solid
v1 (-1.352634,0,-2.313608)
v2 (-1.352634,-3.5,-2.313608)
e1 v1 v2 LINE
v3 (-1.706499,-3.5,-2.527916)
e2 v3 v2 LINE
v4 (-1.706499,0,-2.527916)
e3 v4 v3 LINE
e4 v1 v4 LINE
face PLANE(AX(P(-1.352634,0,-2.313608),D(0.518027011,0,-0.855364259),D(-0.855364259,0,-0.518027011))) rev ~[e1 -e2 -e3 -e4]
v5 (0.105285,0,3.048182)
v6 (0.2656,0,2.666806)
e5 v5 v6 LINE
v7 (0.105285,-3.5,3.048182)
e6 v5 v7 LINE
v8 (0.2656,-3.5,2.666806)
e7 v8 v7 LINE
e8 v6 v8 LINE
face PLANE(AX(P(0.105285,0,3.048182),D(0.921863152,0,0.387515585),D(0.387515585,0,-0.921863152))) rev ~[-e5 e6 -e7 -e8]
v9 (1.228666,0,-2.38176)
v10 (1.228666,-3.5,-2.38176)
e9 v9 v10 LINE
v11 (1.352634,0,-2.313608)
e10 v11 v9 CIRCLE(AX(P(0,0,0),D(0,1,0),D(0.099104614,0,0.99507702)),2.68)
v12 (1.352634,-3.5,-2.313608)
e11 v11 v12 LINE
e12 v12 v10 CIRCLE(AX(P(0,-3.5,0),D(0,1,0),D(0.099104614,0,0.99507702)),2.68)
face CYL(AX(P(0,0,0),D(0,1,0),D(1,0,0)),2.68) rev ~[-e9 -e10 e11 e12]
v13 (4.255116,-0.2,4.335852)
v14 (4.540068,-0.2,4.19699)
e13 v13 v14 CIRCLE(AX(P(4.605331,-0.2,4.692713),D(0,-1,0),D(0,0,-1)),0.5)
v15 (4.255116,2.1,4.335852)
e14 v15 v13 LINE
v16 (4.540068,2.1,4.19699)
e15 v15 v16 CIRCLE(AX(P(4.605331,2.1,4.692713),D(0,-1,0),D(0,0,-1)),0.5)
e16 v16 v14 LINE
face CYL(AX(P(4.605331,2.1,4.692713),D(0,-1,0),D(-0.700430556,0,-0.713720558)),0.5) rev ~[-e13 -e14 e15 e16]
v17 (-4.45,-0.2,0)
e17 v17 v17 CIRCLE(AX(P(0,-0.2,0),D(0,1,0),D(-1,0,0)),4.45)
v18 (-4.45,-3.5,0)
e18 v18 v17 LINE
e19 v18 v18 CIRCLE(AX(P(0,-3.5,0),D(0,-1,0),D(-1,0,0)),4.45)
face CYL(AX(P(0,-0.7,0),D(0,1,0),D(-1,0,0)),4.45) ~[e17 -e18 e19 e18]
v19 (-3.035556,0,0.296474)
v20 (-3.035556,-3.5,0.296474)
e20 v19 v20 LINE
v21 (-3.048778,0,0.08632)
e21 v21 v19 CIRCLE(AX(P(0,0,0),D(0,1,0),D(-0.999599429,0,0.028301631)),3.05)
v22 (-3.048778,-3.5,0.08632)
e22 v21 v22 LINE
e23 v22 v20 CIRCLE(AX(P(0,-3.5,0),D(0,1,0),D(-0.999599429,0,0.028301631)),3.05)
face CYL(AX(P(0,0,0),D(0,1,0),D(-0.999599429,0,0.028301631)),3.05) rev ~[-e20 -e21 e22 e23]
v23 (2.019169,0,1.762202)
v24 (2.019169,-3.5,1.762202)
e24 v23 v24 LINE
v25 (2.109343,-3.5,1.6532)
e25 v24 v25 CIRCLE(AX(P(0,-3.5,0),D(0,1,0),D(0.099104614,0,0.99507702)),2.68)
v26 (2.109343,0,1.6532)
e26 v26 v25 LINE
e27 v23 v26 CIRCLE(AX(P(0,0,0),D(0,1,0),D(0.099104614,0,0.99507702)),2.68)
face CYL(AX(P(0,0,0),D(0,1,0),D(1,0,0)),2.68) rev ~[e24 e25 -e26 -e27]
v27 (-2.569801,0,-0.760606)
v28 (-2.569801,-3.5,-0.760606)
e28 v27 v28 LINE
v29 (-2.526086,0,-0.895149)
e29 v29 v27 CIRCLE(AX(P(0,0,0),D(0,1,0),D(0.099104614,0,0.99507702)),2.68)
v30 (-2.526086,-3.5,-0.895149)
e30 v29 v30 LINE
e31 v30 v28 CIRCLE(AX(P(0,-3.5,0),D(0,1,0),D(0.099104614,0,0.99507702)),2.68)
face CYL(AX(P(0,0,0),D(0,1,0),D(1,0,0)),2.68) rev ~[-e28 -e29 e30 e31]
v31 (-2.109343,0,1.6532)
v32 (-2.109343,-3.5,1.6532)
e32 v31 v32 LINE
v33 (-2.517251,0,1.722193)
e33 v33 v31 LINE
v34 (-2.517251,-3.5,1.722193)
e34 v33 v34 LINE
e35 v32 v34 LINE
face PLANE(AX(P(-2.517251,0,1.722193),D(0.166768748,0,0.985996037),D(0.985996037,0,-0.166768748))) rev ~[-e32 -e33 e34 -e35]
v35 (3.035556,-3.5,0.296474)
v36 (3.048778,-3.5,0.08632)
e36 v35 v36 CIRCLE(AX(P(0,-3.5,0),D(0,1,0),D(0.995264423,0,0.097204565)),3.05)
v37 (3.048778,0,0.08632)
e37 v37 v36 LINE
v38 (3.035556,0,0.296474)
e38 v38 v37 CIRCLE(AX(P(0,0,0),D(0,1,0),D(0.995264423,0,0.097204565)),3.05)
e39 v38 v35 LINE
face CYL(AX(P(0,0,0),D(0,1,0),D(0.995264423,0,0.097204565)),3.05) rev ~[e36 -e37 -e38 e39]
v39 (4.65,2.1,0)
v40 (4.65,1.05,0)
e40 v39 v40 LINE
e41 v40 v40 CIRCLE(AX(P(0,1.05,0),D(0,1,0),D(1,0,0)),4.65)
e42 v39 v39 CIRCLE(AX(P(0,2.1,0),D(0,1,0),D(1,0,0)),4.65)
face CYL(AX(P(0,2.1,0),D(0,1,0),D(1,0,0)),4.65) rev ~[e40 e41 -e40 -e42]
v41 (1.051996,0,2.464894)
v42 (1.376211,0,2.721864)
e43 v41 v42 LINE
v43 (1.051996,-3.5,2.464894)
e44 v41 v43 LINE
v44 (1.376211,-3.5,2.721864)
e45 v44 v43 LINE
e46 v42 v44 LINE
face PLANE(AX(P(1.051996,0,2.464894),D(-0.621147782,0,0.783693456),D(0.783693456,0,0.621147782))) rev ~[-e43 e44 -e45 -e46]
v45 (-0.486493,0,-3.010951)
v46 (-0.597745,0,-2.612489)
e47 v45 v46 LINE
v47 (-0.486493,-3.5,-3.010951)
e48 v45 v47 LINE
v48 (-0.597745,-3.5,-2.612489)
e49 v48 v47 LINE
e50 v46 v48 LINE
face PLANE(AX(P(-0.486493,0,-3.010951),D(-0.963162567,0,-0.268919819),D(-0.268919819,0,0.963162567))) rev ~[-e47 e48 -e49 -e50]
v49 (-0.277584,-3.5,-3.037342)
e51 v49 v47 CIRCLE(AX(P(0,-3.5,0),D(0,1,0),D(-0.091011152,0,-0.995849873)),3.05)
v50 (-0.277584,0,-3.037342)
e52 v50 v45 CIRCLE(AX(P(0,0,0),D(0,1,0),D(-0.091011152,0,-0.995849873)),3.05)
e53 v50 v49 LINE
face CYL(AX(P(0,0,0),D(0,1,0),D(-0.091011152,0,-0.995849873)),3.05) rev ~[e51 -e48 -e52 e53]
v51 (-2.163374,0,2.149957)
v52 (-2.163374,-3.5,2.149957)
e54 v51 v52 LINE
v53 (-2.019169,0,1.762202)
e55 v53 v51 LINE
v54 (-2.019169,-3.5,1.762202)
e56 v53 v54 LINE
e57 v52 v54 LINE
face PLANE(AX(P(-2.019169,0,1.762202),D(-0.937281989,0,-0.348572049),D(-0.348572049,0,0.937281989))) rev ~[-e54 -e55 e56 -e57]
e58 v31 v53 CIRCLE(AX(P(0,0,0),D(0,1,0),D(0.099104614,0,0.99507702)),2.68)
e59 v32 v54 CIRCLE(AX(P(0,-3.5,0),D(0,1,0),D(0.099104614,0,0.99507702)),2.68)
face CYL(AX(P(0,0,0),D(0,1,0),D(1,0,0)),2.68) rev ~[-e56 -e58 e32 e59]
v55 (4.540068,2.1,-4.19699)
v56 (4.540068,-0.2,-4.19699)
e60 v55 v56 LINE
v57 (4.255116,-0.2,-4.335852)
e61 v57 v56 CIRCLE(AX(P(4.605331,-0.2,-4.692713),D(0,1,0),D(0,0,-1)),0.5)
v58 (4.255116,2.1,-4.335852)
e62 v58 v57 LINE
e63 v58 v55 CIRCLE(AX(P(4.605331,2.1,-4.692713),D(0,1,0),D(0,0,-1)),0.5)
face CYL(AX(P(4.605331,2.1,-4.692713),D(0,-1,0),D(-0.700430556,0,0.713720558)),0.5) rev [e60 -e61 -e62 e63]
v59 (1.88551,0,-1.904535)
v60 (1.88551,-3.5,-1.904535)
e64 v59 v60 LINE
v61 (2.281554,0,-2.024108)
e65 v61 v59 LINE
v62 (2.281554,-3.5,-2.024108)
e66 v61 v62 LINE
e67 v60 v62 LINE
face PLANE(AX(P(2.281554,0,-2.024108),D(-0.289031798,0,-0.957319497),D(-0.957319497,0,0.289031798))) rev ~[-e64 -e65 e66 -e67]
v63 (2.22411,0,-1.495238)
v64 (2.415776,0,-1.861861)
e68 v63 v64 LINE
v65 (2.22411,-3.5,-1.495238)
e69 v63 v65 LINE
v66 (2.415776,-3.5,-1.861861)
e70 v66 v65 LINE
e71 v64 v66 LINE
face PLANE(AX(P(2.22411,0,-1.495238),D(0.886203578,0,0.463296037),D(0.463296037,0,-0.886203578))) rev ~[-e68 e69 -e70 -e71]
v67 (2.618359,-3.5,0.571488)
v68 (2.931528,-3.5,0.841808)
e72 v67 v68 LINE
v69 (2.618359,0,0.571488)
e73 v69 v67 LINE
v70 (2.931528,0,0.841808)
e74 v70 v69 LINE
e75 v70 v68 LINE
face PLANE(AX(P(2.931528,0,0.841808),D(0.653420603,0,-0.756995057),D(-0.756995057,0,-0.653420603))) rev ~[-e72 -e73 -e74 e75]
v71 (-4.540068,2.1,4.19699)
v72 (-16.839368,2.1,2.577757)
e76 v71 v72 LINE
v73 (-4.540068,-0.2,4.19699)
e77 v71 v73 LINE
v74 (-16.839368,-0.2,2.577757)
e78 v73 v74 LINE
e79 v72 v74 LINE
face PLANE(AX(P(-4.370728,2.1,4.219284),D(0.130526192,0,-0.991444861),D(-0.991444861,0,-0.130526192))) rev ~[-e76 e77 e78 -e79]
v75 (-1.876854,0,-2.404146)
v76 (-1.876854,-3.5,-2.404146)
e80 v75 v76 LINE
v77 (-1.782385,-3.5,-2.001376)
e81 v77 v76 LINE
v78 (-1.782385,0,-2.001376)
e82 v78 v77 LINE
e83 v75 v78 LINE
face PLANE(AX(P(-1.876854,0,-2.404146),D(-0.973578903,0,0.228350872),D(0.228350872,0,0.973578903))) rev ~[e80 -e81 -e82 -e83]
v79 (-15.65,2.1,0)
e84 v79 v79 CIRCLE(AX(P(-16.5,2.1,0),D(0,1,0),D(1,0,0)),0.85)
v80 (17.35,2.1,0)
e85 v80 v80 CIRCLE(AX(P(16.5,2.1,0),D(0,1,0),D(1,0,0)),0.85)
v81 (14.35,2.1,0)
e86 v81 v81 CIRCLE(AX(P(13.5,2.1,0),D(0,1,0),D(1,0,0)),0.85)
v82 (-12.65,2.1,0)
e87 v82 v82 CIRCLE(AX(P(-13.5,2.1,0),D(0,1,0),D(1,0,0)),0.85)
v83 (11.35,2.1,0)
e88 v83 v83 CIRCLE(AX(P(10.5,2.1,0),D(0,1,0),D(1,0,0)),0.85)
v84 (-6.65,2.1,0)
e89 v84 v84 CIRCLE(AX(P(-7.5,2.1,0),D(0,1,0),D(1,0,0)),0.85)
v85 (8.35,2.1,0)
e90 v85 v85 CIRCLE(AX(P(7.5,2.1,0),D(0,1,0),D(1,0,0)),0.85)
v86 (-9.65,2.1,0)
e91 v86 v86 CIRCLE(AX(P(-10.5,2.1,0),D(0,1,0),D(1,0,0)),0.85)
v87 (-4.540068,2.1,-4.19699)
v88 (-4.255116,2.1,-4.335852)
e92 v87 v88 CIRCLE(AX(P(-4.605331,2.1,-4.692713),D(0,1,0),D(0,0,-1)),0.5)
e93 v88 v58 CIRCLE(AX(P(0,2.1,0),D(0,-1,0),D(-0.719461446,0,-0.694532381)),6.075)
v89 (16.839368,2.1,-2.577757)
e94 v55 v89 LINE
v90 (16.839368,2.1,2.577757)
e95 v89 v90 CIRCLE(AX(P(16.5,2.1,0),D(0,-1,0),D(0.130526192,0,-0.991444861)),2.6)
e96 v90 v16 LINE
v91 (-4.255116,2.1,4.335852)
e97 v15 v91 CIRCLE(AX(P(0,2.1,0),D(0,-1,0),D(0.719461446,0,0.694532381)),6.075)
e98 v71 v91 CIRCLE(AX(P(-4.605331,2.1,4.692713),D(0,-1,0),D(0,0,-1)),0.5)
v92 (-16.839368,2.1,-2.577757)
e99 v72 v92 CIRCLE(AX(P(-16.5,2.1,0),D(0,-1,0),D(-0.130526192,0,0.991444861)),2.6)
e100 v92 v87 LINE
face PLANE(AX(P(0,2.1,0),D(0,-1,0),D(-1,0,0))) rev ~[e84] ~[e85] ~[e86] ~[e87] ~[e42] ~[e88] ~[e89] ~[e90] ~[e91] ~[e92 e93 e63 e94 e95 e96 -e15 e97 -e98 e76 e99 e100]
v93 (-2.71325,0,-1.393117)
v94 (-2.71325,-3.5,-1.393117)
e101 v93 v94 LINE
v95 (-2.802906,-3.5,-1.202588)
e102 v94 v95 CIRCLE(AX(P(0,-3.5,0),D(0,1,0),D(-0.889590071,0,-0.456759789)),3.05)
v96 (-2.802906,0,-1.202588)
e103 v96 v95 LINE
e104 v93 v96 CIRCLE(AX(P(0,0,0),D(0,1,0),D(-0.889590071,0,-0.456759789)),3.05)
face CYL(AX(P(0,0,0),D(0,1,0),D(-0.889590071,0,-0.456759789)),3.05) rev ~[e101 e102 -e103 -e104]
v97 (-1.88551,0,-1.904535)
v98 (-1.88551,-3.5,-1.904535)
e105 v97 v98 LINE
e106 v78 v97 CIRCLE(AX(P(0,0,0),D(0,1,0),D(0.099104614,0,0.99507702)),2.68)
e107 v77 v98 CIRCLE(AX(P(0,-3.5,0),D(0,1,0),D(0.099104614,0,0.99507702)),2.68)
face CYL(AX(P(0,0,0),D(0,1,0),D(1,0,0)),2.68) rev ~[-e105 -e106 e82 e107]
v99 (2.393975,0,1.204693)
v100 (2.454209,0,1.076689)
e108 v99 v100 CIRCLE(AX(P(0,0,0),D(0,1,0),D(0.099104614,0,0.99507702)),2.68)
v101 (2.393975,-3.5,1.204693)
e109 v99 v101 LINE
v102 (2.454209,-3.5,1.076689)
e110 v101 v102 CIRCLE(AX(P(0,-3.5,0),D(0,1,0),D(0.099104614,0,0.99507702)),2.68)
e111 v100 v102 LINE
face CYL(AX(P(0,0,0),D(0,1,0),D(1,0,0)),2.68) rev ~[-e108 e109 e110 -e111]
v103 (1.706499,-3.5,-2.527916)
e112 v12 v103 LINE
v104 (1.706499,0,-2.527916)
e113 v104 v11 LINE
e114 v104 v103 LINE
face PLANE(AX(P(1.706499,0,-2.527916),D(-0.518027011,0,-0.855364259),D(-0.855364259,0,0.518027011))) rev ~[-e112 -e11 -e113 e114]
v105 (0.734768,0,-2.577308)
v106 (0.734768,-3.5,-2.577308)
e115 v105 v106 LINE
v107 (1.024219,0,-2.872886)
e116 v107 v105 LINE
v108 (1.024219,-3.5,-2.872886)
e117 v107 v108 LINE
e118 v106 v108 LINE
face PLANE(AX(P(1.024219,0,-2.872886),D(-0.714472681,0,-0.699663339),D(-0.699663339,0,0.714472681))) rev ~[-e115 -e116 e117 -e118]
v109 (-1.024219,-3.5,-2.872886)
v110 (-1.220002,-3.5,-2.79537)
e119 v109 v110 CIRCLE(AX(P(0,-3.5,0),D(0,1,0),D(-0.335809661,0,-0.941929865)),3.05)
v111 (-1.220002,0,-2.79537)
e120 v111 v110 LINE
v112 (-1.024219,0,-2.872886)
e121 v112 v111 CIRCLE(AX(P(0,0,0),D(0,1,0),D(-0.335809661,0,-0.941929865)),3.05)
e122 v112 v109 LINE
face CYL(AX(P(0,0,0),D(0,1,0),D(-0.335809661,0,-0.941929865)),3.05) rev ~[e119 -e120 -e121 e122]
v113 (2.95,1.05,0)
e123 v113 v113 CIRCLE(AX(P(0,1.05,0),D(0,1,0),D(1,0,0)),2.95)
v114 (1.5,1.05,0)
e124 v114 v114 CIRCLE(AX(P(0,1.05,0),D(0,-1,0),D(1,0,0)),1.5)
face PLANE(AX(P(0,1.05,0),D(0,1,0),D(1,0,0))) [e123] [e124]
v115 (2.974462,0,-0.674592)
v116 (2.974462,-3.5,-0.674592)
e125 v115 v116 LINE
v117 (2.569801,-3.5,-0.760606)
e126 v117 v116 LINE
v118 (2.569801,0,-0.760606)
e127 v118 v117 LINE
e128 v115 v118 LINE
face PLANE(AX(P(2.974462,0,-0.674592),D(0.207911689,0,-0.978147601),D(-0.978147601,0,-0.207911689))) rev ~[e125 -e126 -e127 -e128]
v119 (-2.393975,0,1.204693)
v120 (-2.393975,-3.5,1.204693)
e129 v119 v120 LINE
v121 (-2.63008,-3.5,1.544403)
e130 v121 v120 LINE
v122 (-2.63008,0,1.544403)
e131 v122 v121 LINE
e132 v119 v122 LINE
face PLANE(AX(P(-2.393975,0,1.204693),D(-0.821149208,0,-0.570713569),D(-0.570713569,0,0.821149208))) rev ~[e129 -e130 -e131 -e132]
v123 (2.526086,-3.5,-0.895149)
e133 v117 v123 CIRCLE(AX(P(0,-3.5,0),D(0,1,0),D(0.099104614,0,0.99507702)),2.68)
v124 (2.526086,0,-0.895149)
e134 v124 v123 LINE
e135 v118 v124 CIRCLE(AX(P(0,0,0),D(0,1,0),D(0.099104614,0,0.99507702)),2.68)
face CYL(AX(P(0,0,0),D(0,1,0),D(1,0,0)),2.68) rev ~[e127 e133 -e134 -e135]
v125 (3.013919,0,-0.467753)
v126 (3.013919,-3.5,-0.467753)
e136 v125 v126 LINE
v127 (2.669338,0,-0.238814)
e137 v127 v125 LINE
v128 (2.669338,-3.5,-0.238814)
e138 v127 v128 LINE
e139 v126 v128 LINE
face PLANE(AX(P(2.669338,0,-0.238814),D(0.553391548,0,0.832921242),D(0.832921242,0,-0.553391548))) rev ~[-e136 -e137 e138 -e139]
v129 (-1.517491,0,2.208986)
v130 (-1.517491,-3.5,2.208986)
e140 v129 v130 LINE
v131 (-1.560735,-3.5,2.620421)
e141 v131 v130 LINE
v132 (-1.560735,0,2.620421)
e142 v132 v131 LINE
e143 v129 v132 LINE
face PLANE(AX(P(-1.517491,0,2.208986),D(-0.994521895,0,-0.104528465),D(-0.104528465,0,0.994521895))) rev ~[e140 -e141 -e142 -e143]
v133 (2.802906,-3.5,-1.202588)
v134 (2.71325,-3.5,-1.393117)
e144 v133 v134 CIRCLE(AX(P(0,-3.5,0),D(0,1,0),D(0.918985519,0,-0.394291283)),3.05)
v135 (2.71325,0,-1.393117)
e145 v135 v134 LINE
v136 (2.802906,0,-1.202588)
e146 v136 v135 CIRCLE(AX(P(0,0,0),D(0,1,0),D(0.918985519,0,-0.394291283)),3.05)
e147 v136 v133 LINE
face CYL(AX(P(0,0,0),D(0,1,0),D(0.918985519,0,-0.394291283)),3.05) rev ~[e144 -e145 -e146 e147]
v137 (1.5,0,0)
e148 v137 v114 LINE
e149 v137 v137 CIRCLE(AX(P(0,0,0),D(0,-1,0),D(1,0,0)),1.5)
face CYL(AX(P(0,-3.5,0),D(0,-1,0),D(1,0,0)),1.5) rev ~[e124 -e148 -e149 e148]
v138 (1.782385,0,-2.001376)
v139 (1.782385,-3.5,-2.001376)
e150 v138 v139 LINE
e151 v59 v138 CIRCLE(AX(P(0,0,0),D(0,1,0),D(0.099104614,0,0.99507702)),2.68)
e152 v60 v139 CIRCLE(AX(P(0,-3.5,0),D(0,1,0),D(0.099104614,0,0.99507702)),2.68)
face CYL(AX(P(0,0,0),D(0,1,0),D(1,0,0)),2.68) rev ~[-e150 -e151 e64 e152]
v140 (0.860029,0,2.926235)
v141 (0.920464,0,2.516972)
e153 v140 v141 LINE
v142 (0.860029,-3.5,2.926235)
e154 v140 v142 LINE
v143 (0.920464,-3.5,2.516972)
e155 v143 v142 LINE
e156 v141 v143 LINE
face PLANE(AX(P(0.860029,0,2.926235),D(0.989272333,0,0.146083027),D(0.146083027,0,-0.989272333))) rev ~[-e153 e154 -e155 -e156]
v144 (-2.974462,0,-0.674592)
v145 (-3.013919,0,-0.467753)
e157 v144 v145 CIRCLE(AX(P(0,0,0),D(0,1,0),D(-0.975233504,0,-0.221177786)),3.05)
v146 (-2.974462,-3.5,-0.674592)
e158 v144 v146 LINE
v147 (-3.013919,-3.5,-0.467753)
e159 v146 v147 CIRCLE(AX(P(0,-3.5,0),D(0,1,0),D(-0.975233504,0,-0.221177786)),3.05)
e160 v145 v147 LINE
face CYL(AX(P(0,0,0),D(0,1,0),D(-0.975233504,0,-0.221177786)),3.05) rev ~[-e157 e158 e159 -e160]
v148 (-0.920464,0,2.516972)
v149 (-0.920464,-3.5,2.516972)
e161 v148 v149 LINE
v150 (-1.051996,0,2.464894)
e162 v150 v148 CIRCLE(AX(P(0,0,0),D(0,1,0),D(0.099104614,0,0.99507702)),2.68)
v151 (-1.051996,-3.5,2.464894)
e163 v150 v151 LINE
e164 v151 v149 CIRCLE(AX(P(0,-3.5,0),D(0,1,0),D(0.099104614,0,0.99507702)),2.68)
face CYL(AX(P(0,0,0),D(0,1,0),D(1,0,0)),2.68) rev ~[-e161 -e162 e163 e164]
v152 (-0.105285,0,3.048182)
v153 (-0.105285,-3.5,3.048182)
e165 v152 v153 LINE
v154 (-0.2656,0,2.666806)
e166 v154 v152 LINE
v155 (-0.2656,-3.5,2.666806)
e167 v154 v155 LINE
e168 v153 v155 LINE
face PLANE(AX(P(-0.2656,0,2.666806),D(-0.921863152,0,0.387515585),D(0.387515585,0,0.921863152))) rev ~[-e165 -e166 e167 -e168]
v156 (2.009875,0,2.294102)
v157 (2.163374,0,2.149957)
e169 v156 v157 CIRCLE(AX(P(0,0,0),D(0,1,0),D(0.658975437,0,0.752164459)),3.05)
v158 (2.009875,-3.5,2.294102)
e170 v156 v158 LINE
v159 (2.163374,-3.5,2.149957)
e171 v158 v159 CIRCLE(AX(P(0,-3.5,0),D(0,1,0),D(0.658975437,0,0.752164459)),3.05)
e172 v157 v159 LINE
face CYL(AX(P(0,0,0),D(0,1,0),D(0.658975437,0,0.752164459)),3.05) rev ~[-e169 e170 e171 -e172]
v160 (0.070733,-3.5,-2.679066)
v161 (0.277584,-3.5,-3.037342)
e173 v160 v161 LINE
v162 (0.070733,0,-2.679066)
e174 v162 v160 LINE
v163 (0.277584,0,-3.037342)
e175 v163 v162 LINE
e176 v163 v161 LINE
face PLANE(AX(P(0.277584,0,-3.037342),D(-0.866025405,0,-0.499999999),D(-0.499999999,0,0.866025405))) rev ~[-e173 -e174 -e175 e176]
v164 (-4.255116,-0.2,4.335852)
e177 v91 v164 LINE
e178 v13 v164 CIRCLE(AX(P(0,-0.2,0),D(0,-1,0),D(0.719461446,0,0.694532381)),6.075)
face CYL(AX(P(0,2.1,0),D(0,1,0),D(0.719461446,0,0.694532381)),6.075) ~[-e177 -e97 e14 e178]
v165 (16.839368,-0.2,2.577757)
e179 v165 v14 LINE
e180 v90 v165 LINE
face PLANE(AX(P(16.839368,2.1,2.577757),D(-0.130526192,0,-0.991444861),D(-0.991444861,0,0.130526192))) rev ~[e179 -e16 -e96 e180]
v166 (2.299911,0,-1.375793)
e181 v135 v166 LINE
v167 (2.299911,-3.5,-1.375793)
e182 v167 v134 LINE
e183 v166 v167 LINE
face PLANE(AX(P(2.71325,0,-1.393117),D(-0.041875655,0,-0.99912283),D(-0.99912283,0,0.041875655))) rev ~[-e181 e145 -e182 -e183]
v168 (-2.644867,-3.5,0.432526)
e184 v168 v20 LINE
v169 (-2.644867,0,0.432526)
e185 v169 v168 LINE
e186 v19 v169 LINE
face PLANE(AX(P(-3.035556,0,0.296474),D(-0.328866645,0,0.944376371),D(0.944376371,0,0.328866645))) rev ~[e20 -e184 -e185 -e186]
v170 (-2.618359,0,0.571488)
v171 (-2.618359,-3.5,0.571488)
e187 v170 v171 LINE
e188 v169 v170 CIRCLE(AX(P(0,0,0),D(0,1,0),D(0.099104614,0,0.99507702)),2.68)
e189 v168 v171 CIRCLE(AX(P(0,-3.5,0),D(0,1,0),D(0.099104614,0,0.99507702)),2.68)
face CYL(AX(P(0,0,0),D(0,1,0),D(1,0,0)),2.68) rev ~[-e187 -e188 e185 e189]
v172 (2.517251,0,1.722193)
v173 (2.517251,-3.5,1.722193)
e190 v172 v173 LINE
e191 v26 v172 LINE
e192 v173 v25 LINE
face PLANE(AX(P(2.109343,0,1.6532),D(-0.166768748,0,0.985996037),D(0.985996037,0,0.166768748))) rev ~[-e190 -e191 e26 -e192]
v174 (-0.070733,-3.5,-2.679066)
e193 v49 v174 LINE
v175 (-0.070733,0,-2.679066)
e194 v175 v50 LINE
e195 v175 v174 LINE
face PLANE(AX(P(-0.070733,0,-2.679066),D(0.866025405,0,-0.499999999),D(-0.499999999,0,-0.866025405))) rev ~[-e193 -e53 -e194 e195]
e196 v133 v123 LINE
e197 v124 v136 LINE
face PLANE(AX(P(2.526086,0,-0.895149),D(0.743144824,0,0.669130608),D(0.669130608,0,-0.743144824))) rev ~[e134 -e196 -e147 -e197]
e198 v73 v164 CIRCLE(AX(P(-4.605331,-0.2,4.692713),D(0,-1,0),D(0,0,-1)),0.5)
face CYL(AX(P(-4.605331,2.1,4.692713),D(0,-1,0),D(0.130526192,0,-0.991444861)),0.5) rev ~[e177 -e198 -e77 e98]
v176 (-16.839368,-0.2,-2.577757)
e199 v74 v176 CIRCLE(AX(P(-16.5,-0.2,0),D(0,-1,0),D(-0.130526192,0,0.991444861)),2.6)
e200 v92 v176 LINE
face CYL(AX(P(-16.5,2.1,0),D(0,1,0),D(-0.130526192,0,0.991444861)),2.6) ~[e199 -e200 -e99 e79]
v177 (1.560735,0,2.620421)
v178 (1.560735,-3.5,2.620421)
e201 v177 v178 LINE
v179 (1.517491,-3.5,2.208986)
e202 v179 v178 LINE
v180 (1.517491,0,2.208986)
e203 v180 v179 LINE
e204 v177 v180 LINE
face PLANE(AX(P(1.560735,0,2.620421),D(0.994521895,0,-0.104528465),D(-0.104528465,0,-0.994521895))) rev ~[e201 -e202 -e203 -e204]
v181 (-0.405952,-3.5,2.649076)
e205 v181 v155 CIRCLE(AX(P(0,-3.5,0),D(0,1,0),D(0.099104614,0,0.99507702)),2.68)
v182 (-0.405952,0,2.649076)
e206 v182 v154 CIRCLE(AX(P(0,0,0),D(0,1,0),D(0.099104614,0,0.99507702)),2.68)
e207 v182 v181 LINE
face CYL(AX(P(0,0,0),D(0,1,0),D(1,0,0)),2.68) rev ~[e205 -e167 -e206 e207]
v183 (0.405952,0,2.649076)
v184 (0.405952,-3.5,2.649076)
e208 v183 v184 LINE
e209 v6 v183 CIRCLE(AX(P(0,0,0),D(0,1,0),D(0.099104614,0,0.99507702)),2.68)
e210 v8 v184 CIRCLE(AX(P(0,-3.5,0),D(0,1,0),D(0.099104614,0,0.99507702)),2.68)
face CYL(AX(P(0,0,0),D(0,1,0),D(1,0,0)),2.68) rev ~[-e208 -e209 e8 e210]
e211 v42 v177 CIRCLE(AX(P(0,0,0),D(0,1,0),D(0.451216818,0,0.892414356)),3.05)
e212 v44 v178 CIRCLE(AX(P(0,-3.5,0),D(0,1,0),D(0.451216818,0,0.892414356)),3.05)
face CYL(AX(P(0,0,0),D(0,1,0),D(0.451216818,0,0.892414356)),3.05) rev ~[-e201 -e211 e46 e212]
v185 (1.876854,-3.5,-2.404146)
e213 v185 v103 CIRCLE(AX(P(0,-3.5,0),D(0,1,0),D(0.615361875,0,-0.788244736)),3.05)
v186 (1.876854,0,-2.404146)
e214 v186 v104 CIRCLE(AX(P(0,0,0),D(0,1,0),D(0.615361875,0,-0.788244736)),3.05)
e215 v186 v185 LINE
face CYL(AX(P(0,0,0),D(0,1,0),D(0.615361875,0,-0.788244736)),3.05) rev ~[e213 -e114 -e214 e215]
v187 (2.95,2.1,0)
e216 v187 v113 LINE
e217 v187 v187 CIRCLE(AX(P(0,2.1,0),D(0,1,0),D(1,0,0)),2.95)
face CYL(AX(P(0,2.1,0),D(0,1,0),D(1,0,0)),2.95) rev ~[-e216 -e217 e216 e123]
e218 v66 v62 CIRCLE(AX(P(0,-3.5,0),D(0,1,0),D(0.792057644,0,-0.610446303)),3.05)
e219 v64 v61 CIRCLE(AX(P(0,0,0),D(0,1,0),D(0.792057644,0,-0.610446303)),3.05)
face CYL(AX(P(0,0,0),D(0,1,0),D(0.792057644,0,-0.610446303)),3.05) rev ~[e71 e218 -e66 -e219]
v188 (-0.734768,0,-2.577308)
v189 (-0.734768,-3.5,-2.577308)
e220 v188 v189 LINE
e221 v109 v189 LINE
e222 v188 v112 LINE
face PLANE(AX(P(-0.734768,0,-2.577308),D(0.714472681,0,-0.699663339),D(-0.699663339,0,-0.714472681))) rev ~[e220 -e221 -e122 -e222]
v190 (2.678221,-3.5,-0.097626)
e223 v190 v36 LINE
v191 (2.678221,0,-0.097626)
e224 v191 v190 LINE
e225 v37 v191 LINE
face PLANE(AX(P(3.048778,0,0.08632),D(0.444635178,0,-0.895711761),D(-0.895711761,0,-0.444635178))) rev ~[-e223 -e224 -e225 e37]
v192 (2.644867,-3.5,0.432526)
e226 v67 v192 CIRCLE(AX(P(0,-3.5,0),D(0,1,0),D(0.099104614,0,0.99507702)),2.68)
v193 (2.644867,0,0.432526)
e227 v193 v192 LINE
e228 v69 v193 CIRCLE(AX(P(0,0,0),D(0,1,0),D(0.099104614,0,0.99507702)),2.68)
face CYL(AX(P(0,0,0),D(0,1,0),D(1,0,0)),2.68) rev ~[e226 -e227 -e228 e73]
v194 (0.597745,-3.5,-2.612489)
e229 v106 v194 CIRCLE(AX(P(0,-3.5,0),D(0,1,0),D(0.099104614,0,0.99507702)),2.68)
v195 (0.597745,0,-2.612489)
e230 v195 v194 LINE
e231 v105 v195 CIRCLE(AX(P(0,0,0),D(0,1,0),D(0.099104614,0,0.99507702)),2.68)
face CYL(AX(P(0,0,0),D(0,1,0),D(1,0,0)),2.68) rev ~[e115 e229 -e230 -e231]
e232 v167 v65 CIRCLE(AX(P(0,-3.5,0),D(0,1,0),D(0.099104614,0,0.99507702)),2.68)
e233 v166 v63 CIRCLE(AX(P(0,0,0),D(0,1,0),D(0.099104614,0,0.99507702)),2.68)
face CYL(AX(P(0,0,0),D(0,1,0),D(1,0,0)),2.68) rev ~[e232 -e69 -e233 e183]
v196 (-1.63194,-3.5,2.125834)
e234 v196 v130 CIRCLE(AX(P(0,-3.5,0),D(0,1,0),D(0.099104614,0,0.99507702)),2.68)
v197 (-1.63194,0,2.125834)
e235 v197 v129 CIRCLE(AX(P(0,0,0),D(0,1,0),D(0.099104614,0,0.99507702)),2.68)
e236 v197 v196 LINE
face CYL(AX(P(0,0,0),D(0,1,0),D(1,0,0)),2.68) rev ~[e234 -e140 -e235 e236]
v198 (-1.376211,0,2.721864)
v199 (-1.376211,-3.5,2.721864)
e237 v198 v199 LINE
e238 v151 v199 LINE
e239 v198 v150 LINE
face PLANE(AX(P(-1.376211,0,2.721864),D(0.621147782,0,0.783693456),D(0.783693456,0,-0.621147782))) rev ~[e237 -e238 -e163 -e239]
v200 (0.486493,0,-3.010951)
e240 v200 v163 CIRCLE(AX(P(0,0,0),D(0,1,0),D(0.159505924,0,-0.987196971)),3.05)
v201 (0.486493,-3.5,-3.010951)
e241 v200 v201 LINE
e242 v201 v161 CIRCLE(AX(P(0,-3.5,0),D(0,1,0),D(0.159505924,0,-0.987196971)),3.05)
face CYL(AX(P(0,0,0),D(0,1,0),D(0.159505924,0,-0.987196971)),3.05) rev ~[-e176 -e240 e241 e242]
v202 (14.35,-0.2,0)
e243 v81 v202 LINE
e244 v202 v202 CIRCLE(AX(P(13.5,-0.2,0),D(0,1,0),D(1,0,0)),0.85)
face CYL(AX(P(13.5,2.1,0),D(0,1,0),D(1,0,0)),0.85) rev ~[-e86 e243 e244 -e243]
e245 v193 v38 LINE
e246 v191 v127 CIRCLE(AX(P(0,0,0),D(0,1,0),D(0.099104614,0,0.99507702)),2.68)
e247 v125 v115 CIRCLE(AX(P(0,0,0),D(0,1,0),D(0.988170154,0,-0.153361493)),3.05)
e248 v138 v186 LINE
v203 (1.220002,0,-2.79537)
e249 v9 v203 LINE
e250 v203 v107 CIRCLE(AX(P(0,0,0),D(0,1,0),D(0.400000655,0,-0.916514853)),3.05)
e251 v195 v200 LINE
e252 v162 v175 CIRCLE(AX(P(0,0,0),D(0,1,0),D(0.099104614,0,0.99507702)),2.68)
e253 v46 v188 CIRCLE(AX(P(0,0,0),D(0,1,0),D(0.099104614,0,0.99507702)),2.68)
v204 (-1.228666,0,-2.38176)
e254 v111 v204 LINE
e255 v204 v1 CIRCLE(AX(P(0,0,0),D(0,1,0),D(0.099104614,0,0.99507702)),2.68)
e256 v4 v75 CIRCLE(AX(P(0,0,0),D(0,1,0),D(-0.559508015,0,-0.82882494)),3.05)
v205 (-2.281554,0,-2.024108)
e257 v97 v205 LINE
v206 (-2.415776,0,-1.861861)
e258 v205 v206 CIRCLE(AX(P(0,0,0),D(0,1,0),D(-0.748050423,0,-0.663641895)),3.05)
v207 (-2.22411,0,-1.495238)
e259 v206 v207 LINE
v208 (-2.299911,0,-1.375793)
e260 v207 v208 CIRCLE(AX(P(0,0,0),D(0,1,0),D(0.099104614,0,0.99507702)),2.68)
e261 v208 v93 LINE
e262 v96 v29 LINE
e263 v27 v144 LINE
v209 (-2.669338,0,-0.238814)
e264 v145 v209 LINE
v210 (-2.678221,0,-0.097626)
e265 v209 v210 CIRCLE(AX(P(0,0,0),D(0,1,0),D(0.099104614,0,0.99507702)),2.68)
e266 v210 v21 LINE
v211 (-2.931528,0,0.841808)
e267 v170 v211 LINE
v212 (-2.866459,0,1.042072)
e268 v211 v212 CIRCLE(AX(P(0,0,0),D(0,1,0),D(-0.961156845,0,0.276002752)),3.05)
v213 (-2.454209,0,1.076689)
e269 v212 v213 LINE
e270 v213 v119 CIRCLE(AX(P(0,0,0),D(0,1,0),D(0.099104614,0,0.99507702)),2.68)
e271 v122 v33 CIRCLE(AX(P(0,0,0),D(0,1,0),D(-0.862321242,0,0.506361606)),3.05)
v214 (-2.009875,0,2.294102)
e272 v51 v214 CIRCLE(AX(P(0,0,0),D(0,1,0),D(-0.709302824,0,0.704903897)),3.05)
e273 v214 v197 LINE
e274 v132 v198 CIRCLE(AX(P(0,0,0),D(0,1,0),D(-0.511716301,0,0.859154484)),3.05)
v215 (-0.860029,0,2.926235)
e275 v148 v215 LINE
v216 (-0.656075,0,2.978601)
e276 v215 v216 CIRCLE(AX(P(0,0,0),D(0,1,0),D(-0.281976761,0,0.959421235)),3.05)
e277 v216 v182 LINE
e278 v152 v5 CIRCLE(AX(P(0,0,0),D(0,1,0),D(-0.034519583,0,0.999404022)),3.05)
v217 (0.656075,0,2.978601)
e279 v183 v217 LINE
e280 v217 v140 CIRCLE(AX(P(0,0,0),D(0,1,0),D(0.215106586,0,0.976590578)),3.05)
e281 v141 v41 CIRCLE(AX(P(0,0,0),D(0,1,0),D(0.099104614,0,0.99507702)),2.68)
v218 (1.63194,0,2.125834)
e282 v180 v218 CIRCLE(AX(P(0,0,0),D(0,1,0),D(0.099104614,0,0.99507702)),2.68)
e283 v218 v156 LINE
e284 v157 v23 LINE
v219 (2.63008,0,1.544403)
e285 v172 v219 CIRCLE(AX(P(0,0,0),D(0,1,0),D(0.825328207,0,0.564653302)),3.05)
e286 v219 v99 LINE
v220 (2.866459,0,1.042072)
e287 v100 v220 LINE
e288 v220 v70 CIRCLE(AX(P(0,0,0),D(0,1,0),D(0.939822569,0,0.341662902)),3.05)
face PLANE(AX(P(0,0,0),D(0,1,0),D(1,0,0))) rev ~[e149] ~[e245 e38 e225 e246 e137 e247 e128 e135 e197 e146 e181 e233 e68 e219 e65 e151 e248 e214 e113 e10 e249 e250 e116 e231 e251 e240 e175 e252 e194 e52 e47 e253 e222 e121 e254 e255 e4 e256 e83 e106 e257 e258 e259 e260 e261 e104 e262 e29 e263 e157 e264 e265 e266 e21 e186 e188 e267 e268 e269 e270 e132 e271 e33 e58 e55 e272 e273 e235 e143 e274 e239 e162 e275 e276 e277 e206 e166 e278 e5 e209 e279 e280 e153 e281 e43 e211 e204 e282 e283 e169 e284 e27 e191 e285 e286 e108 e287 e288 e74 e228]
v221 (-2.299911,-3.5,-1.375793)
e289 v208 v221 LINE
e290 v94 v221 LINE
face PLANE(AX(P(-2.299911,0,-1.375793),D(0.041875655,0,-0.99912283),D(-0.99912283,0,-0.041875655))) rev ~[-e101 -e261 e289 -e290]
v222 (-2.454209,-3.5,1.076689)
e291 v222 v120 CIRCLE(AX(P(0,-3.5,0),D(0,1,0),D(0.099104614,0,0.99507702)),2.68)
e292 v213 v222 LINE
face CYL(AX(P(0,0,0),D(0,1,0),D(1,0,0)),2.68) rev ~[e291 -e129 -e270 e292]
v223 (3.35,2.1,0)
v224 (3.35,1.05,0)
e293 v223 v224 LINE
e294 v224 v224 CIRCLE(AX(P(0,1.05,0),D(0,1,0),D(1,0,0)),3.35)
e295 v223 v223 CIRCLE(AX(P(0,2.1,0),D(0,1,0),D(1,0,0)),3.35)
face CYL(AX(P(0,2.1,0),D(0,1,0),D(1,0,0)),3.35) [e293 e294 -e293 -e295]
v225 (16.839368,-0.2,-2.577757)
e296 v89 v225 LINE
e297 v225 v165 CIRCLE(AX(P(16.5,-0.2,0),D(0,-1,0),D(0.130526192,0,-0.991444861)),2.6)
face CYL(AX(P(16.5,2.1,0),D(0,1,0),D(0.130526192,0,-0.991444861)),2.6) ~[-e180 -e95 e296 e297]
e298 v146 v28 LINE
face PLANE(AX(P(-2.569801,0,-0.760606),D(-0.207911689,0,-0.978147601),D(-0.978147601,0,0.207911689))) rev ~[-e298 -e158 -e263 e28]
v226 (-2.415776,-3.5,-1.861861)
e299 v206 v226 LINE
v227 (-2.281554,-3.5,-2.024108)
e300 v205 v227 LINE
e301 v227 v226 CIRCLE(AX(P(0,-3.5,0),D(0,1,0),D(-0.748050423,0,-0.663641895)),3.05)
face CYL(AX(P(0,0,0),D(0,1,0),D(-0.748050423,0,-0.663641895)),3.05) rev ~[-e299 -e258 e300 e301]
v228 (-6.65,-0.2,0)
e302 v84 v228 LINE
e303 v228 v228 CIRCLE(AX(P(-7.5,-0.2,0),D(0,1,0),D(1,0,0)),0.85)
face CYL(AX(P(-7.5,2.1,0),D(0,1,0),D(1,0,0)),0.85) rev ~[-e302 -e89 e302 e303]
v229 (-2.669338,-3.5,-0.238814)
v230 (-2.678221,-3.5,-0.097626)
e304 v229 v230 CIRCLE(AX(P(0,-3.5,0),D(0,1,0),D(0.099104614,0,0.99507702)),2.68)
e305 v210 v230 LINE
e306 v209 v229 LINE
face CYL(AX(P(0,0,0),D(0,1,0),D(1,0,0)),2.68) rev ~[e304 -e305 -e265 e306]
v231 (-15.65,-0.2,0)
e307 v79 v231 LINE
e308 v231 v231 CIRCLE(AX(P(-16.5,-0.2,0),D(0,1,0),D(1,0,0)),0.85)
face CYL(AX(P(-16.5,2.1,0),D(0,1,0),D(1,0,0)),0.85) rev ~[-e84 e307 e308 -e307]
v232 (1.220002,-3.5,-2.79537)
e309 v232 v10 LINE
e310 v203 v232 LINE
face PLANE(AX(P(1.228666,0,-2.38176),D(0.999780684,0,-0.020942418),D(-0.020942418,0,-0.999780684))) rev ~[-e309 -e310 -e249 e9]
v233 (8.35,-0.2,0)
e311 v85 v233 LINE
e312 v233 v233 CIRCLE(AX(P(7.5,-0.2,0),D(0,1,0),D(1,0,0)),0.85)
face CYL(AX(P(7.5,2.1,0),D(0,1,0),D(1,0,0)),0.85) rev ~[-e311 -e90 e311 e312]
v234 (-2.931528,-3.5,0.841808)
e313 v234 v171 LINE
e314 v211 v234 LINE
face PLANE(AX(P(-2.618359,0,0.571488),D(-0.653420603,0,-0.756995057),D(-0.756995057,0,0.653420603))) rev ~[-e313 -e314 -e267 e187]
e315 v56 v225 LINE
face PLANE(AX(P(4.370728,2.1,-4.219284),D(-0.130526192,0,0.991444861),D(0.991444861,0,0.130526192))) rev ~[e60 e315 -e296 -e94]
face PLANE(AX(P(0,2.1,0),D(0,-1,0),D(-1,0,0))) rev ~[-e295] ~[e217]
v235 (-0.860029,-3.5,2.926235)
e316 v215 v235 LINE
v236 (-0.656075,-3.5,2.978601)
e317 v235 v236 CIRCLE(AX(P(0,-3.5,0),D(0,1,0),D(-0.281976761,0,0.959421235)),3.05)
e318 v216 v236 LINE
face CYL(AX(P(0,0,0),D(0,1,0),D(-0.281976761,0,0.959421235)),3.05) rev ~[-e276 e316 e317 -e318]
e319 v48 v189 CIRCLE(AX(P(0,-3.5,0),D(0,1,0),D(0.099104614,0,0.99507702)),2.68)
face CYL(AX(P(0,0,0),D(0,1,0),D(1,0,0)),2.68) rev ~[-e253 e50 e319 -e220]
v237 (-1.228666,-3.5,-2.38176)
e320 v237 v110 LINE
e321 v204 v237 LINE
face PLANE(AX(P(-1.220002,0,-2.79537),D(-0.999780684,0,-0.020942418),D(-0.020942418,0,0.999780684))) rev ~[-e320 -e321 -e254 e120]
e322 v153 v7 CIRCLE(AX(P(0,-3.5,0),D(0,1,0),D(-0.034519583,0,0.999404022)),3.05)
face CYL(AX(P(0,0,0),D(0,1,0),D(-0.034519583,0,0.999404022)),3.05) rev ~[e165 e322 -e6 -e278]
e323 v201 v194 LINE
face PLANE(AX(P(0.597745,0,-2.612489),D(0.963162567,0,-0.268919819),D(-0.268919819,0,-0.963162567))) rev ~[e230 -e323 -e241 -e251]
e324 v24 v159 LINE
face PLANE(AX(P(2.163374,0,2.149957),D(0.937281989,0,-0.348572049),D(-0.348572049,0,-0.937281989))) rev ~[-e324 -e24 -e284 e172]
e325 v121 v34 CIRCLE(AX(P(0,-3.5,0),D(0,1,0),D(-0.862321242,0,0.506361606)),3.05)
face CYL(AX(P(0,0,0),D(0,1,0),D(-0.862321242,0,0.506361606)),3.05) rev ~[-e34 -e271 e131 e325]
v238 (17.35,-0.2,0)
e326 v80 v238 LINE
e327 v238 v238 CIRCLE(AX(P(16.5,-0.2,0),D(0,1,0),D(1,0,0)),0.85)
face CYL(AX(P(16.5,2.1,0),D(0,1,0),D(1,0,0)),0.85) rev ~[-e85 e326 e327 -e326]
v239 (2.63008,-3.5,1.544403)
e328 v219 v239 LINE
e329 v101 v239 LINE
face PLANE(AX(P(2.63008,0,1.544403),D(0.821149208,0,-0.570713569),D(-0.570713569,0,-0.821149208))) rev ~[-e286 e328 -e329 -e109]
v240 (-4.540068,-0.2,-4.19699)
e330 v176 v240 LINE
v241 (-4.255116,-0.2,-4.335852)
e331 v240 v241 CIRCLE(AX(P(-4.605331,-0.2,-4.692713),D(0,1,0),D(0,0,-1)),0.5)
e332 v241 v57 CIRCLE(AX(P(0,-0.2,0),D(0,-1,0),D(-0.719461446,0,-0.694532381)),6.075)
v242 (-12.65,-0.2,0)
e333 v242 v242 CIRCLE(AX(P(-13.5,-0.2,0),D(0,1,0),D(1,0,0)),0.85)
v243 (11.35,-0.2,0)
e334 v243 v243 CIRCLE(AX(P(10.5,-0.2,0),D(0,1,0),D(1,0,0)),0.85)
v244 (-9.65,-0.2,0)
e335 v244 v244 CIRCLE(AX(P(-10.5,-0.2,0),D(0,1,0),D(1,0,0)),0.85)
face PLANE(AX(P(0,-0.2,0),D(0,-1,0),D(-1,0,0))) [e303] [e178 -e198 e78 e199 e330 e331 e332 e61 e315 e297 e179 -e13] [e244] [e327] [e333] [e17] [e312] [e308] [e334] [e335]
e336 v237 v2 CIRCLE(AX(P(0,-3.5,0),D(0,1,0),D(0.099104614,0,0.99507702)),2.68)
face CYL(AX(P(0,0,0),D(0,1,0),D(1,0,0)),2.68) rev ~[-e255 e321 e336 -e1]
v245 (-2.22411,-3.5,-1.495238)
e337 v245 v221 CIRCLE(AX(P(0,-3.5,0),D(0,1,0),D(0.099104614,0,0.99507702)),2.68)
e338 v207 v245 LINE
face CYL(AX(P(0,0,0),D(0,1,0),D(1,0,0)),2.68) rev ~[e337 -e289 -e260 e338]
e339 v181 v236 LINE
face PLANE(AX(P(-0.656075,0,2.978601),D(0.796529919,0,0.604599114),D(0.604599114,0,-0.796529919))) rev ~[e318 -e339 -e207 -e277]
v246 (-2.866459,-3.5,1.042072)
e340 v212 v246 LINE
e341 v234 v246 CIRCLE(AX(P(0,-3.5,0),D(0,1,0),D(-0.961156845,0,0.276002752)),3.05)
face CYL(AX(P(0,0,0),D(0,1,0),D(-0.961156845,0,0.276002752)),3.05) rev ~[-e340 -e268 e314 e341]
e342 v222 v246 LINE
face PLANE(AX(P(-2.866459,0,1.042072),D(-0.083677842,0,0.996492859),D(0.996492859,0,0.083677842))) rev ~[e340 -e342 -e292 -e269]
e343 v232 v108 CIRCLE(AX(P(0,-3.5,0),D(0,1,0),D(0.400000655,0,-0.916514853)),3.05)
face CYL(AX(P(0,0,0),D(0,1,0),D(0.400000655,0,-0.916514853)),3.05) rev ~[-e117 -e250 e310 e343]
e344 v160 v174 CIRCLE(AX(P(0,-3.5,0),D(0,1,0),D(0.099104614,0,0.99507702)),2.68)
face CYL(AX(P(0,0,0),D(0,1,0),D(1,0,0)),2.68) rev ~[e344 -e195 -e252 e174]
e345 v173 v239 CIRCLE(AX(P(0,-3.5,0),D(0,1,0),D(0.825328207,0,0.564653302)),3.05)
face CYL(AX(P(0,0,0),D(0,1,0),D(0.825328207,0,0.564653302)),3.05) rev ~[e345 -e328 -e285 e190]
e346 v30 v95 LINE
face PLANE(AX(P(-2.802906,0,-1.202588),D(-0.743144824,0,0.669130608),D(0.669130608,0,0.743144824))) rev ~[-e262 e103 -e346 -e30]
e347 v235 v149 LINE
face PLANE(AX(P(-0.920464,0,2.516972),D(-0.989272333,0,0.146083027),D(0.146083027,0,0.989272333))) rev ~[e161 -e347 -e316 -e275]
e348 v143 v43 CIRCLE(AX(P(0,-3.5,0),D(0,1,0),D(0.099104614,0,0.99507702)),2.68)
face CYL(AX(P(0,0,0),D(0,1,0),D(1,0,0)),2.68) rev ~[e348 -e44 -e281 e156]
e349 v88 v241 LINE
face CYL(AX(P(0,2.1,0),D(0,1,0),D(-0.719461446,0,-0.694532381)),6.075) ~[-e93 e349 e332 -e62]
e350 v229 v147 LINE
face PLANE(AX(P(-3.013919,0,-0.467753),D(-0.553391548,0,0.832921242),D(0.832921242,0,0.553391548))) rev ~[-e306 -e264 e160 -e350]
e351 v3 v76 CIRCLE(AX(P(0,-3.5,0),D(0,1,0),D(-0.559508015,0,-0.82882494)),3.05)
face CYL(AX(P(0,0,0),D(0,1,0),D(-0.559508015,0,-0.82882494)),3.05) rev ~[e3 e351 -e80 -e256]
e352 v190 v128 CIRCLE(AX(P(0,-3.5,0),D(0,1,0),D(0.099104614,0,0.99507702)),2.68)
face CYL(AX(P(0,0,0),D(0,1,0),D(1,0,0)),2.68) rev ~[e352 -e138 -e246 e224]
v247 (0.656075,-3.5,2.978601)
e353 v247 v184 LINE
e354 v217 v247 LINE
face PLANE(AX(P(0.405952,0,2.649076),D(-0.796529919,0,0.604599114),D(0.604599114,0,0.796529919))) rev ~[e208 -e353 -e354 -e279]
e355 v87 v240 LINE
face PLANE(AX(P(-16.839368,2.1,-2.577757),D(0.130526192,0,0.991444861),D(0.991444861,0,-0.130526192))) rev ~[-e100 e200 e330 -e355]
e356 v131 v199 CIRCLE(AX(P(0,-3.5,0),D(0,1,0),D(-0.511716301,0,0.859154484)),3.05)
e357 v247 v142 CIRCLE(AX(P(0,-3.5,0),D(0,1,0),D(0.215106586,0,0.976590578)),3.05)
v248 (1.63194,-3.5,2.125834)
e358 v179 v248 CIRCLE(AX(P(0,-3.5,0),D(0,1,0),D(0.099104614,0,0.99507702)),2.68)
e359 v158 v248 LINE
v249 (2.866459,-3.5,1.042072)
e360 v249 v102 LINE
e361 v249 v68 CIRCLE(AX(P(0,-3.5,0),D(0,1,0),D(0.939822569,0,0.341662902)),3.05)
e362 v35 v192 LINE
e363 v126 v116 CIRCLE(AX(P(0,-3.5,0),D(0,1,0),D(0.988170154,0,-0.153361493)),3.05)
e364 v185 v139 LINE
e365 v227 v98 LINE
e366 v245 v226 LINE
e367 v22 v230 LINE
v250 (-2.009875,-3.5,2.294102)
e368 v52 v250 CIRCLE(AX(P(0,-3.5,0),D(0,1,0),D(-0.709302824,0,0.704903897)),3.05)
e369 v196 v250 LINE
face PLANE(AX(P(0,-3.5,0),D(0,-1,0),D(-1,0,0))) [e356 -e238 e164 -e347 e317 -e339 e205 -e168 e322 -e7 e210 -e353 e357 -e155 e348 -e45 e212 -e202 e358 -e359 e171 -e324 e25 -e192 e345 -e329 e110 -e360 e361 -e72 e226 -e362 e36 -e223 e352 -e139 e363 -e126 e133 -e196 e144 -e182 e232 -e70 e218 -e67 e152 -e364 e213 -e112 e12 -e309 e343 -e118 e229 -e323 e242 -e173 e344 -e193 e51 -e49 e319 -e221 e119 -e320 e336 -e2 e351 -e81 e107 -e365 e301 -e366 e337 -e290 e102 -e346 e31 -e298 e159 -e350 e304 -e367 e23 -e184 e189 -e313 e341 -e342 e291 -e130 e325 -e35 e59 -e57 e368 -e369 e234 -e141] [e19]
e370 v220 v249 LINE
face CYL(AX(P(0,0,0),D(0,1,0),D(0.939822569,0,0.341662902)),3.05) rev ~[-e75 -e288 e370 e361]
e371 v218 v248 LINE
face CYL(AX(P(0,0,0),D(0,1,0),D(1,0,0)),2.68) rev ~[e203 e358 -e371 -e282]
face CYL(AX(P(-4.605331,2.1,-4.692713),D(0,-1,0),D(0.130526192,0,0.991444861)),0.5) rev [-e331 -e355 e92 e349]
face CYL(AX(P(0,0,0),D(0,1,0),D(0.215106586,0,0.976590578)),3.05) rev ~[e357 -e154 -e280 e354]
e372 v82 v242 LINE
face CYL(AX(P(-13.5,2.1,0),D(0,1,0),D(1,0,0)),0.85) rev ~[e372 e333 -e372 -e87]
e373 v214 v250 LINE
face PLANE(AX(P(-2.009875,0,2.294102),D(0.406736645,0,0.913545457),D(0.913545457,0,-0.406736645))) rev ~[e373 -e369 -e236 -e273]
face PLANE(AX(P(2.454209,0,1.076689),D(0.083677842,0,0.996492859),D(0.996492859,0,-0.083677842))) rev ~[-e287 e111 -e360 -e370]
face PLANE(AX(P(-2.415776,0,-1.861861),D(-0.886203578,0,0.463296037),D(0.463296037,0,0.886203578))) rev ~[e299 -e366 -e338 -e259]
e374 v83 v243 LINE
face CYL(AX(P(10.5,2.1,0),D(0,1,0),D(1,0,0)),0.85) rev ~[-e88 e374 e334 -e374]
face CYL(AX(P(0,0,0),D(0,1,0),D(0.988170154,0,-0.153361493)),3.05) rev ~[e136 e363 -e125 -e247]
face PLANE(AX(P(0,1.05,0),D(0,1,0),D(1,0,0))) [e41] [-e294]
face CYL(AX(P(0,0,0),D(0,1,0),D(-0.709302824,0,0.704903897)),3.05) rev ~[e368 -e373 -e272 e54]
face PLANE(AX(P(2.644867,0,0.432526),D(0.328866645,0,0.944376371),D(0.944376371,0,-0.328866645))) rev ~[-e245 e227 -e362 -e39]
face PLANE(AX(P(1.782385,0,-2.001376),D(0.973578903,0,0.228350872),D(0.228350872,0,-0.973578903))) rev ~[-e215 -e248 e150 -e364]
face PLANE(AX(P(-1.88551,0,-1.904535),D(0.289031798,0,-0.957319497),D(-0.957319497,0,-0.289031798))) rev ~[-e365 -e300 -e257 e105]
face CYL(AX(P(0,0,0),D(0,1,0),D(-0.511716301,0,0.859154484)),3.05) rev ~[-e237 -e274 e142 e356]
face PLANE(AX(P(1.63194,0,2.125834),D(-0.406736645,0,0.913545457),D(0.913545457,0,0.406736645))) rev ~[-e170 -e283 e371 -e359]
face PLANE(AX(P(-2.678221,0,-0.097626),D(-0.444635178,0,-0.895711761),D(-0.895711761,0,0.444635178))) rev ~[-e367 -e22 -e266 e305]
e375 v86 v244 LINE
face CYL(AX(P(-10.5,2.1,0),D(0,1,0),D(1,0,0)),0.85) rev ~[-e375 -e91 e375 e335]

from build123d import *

# Parameters (mm, degrees)
ESQUISSE2_W                  = 4.45
ESQUISSE2_H                  = 5.6
ESQUISSE3_R                  = 0.85
BOSS_EXTRU_1_DEPTH           = 2.3
CONG_1_R                     = 0.5
ESQUISSE4_R                  = 2.95
ENL_V_MAT_EXTRU_1_DEPTH      = 1.05
ESQUISSE5_R                  = 4.65
ESQUISSE5_R_2                = 3.35
ENL_V_MAT_EXTRU_2_DEPTH      = 1.05
ESQUISSE6_R                  = 1.5
ENL_V_MAT_EXTRU_3_DEPTH      = 6.6
ESQUISSE8_R                  = 2.68
ENL_V_MAT_EXTRU_4_DEPTH      = 4.5
ENL_V_MAT_EXTRU_5_DEPTH      = 4.5
R_P_TITION_CIRCULAIRE1_COUNT = 25


with BuildPart() as part:
    # Esquisse2 → Révolution1 (revolve)
    with BuildSketch(Plane.XY):
        with Locations((-2.225, -0.7)):
            Rectangle(ESQUISSE2_W, ESQUISSE2_H)
    revolve(axis=Axis((0, 3.929571688, 0), (0, -1, 0)))

    # Esquisse3 → Boss.-Extru.1 (add)
    with BuildSketch(Plane(origin=(0, 2.1, 0), x_dir=(1, 0, 0), z_dir=(0, 1, 0))):
        with BuildLine():
            Line((-16.8393681, 2.57775664), (-4.370728284, 4.219284213))
            ThreePointArc((-4.370728284, 4.219284213), (0, 6.075), (4.370728284, 4.219284213))
            Line((4.370728284, 4.219284213), (16.8393681, 2.57775664))
            ThreePointArc((16.8393681, 2.57775664), (19.1, 0), (16.8393681, -2.57775664))
            Line((16.8393681, -2.57775664), (4.370728284, -4.219284213))
            ThreePointArc((4.370728284, -4.219284213), (0, -6.075), (-4.370728284, -4.219284213))
            Line((-4.370728284, -4.219284213), (-16.8393681, -2.57775664))
            ThreePointArc((-16.8393681, -2.57775664), (-19.1, 0), (-16.8393681, 2.57775664))
        make_face()
        with Locations((-16.5, 0)):
            Circle(ESQUISSE3_R, mode=Mode.SUBTRACT)
        with Locations((-13.5, 0)):
            Circle(ESQUISSE3_R, mode=Mode.SUBTRACT)
        with Locations((-10.5, 0)):
            Circle(ESQUISSE3_R, mode=Mode.SUBTRACT)
        with Locations((-7.5, 0)):
            Circle(ESQUISSE3_R, mode=Mode.SUBTRACT)
        with Locations((7.5, 0)):
            Circle(ESQUISSE3_R, mode=Mode.SUBTRACT)
        with Locations((10.5, 0)):
            Circle(ESQUISSE3_R, mode=Mode.SUBTRACT)
        with Locations((13.5, 0)):
            Circle(ESQUISSE3_R, mode=Mode.SUBTRACT)
        with Locations((16.5, 0)):
            Circle(ESQUISSE3_R, mode=Mode.SUBTRACT)
    extrude(amount=-BOSS_EXTRU_1_DEPTH)

    # Congé1
    cong_1_edges = [part.edges().sort_by_distance(p)[0] for p in [
        (-4.370728284, 0.95, -4.219284213),
        (4.370728284, 0.95, -4.219284213),
        (4.370728284, 0.95, 4.219284213),
        (-4.370728284, 0.95, 4.219284213),
    ]]
    fillet(cong_1_edges, radius=CONG_1_R)

    # Esquisse4 → Enlèv. mat.-Extru.1 (cut)
    with BuildSketch(Plane(origin=(0, 2.1, 0), x_dir=(1, 0, 0), z_dir=(0, 1, 0))):
        Circle(ESQUISSE4_R)
    extrude(amount=-ENL_V_MAT_EXTRU_1_DEPTH, mode=Mode.SUBTRACT)

    # Esquisse5 → Enlèv. mat.-Extru.2 (cut)
    with BuildSketch(Plane(origin=(0, 2.1, 0), x_dir=(1, 0, 0), z_dir=(0, 1, 0))):
        Circle(ESQUISSE5_R)
        Circle(ESQUISSE5_R_2, mode=Mode.SUBTRACT)
    extrude(amount=-ENL_V_MAT_EXTRU_2_DEPTH, mode=Mode.SUBTRACT)

    # Esquisse6 → Enlèv. mat.-Extru.3 (cut, through all)
    with BuildSketch(Plane.XZ.offset(3.5)):
        Circle(ESQUISSE6_R)
    extrude(amount=-ENL_V_MAT_EXTRU_3_DEPTH, mode=Mode.SUBTRACT)

    # Esquisse8 → Enlèv. mat.-Extru.4 (cut, through all)
    with BuildSketch(Plane(origin=(0, 0, 0), x_dir=(1, 0, 0), z_dir=(0, 1, 0))):
        Circle(ESQUISSE8_R)
    extrude(amount=-ENL_V_MAT_EXTRU_4_DEPTH, mode=Mode.SUBTRACT)

    # Esquisse9 → Enlèv. mat.-Extru.5 (cut, through all)
    with BuildSketch(Plane(origin=(0, 0, 0), x_dir=(1, 0, 0), z_dir=(0, 1, 0))):
        with BuildLine():
            Line((0.10528472, -3.048182266), (0.265600366, -2.666806413))
            ThreePointArc((0.265600366, -2.666806413), (0, -2.68), (-0.265600366, -2.666806413))
            Line((-0.265600366, -2.666806413), (-0.10528472, -3.048182266))
            ThreePointArc((-0.10528472, -3.048182266), (0, -3.05), (0.10528472, -3.048182266))
        make_face()
    enl_v_mat_extru_5 = extrude(amount=-ENL_V_MAT_EXTRU_5_DEPTH, mode=Mode.SUBTRACT)

    # Répétition circulaire1: Enlèv. mat.-Extru.5 ×25 about axis
    r_p_tition_circulaire1_axis = Axis((0, 0, 0), (0, 1, 0))
    for i in range(1, R_P_TITION_CIRCULAIRE1_COUNT):
        add(enl_v_mat_extru_5.rotate(r_p_tition_circulaire1_axis, i * 360 / R_P_TITION_CIRCULAIRE1_COUNT), mode=Mode.SUBTRACT)


solid = part.part
